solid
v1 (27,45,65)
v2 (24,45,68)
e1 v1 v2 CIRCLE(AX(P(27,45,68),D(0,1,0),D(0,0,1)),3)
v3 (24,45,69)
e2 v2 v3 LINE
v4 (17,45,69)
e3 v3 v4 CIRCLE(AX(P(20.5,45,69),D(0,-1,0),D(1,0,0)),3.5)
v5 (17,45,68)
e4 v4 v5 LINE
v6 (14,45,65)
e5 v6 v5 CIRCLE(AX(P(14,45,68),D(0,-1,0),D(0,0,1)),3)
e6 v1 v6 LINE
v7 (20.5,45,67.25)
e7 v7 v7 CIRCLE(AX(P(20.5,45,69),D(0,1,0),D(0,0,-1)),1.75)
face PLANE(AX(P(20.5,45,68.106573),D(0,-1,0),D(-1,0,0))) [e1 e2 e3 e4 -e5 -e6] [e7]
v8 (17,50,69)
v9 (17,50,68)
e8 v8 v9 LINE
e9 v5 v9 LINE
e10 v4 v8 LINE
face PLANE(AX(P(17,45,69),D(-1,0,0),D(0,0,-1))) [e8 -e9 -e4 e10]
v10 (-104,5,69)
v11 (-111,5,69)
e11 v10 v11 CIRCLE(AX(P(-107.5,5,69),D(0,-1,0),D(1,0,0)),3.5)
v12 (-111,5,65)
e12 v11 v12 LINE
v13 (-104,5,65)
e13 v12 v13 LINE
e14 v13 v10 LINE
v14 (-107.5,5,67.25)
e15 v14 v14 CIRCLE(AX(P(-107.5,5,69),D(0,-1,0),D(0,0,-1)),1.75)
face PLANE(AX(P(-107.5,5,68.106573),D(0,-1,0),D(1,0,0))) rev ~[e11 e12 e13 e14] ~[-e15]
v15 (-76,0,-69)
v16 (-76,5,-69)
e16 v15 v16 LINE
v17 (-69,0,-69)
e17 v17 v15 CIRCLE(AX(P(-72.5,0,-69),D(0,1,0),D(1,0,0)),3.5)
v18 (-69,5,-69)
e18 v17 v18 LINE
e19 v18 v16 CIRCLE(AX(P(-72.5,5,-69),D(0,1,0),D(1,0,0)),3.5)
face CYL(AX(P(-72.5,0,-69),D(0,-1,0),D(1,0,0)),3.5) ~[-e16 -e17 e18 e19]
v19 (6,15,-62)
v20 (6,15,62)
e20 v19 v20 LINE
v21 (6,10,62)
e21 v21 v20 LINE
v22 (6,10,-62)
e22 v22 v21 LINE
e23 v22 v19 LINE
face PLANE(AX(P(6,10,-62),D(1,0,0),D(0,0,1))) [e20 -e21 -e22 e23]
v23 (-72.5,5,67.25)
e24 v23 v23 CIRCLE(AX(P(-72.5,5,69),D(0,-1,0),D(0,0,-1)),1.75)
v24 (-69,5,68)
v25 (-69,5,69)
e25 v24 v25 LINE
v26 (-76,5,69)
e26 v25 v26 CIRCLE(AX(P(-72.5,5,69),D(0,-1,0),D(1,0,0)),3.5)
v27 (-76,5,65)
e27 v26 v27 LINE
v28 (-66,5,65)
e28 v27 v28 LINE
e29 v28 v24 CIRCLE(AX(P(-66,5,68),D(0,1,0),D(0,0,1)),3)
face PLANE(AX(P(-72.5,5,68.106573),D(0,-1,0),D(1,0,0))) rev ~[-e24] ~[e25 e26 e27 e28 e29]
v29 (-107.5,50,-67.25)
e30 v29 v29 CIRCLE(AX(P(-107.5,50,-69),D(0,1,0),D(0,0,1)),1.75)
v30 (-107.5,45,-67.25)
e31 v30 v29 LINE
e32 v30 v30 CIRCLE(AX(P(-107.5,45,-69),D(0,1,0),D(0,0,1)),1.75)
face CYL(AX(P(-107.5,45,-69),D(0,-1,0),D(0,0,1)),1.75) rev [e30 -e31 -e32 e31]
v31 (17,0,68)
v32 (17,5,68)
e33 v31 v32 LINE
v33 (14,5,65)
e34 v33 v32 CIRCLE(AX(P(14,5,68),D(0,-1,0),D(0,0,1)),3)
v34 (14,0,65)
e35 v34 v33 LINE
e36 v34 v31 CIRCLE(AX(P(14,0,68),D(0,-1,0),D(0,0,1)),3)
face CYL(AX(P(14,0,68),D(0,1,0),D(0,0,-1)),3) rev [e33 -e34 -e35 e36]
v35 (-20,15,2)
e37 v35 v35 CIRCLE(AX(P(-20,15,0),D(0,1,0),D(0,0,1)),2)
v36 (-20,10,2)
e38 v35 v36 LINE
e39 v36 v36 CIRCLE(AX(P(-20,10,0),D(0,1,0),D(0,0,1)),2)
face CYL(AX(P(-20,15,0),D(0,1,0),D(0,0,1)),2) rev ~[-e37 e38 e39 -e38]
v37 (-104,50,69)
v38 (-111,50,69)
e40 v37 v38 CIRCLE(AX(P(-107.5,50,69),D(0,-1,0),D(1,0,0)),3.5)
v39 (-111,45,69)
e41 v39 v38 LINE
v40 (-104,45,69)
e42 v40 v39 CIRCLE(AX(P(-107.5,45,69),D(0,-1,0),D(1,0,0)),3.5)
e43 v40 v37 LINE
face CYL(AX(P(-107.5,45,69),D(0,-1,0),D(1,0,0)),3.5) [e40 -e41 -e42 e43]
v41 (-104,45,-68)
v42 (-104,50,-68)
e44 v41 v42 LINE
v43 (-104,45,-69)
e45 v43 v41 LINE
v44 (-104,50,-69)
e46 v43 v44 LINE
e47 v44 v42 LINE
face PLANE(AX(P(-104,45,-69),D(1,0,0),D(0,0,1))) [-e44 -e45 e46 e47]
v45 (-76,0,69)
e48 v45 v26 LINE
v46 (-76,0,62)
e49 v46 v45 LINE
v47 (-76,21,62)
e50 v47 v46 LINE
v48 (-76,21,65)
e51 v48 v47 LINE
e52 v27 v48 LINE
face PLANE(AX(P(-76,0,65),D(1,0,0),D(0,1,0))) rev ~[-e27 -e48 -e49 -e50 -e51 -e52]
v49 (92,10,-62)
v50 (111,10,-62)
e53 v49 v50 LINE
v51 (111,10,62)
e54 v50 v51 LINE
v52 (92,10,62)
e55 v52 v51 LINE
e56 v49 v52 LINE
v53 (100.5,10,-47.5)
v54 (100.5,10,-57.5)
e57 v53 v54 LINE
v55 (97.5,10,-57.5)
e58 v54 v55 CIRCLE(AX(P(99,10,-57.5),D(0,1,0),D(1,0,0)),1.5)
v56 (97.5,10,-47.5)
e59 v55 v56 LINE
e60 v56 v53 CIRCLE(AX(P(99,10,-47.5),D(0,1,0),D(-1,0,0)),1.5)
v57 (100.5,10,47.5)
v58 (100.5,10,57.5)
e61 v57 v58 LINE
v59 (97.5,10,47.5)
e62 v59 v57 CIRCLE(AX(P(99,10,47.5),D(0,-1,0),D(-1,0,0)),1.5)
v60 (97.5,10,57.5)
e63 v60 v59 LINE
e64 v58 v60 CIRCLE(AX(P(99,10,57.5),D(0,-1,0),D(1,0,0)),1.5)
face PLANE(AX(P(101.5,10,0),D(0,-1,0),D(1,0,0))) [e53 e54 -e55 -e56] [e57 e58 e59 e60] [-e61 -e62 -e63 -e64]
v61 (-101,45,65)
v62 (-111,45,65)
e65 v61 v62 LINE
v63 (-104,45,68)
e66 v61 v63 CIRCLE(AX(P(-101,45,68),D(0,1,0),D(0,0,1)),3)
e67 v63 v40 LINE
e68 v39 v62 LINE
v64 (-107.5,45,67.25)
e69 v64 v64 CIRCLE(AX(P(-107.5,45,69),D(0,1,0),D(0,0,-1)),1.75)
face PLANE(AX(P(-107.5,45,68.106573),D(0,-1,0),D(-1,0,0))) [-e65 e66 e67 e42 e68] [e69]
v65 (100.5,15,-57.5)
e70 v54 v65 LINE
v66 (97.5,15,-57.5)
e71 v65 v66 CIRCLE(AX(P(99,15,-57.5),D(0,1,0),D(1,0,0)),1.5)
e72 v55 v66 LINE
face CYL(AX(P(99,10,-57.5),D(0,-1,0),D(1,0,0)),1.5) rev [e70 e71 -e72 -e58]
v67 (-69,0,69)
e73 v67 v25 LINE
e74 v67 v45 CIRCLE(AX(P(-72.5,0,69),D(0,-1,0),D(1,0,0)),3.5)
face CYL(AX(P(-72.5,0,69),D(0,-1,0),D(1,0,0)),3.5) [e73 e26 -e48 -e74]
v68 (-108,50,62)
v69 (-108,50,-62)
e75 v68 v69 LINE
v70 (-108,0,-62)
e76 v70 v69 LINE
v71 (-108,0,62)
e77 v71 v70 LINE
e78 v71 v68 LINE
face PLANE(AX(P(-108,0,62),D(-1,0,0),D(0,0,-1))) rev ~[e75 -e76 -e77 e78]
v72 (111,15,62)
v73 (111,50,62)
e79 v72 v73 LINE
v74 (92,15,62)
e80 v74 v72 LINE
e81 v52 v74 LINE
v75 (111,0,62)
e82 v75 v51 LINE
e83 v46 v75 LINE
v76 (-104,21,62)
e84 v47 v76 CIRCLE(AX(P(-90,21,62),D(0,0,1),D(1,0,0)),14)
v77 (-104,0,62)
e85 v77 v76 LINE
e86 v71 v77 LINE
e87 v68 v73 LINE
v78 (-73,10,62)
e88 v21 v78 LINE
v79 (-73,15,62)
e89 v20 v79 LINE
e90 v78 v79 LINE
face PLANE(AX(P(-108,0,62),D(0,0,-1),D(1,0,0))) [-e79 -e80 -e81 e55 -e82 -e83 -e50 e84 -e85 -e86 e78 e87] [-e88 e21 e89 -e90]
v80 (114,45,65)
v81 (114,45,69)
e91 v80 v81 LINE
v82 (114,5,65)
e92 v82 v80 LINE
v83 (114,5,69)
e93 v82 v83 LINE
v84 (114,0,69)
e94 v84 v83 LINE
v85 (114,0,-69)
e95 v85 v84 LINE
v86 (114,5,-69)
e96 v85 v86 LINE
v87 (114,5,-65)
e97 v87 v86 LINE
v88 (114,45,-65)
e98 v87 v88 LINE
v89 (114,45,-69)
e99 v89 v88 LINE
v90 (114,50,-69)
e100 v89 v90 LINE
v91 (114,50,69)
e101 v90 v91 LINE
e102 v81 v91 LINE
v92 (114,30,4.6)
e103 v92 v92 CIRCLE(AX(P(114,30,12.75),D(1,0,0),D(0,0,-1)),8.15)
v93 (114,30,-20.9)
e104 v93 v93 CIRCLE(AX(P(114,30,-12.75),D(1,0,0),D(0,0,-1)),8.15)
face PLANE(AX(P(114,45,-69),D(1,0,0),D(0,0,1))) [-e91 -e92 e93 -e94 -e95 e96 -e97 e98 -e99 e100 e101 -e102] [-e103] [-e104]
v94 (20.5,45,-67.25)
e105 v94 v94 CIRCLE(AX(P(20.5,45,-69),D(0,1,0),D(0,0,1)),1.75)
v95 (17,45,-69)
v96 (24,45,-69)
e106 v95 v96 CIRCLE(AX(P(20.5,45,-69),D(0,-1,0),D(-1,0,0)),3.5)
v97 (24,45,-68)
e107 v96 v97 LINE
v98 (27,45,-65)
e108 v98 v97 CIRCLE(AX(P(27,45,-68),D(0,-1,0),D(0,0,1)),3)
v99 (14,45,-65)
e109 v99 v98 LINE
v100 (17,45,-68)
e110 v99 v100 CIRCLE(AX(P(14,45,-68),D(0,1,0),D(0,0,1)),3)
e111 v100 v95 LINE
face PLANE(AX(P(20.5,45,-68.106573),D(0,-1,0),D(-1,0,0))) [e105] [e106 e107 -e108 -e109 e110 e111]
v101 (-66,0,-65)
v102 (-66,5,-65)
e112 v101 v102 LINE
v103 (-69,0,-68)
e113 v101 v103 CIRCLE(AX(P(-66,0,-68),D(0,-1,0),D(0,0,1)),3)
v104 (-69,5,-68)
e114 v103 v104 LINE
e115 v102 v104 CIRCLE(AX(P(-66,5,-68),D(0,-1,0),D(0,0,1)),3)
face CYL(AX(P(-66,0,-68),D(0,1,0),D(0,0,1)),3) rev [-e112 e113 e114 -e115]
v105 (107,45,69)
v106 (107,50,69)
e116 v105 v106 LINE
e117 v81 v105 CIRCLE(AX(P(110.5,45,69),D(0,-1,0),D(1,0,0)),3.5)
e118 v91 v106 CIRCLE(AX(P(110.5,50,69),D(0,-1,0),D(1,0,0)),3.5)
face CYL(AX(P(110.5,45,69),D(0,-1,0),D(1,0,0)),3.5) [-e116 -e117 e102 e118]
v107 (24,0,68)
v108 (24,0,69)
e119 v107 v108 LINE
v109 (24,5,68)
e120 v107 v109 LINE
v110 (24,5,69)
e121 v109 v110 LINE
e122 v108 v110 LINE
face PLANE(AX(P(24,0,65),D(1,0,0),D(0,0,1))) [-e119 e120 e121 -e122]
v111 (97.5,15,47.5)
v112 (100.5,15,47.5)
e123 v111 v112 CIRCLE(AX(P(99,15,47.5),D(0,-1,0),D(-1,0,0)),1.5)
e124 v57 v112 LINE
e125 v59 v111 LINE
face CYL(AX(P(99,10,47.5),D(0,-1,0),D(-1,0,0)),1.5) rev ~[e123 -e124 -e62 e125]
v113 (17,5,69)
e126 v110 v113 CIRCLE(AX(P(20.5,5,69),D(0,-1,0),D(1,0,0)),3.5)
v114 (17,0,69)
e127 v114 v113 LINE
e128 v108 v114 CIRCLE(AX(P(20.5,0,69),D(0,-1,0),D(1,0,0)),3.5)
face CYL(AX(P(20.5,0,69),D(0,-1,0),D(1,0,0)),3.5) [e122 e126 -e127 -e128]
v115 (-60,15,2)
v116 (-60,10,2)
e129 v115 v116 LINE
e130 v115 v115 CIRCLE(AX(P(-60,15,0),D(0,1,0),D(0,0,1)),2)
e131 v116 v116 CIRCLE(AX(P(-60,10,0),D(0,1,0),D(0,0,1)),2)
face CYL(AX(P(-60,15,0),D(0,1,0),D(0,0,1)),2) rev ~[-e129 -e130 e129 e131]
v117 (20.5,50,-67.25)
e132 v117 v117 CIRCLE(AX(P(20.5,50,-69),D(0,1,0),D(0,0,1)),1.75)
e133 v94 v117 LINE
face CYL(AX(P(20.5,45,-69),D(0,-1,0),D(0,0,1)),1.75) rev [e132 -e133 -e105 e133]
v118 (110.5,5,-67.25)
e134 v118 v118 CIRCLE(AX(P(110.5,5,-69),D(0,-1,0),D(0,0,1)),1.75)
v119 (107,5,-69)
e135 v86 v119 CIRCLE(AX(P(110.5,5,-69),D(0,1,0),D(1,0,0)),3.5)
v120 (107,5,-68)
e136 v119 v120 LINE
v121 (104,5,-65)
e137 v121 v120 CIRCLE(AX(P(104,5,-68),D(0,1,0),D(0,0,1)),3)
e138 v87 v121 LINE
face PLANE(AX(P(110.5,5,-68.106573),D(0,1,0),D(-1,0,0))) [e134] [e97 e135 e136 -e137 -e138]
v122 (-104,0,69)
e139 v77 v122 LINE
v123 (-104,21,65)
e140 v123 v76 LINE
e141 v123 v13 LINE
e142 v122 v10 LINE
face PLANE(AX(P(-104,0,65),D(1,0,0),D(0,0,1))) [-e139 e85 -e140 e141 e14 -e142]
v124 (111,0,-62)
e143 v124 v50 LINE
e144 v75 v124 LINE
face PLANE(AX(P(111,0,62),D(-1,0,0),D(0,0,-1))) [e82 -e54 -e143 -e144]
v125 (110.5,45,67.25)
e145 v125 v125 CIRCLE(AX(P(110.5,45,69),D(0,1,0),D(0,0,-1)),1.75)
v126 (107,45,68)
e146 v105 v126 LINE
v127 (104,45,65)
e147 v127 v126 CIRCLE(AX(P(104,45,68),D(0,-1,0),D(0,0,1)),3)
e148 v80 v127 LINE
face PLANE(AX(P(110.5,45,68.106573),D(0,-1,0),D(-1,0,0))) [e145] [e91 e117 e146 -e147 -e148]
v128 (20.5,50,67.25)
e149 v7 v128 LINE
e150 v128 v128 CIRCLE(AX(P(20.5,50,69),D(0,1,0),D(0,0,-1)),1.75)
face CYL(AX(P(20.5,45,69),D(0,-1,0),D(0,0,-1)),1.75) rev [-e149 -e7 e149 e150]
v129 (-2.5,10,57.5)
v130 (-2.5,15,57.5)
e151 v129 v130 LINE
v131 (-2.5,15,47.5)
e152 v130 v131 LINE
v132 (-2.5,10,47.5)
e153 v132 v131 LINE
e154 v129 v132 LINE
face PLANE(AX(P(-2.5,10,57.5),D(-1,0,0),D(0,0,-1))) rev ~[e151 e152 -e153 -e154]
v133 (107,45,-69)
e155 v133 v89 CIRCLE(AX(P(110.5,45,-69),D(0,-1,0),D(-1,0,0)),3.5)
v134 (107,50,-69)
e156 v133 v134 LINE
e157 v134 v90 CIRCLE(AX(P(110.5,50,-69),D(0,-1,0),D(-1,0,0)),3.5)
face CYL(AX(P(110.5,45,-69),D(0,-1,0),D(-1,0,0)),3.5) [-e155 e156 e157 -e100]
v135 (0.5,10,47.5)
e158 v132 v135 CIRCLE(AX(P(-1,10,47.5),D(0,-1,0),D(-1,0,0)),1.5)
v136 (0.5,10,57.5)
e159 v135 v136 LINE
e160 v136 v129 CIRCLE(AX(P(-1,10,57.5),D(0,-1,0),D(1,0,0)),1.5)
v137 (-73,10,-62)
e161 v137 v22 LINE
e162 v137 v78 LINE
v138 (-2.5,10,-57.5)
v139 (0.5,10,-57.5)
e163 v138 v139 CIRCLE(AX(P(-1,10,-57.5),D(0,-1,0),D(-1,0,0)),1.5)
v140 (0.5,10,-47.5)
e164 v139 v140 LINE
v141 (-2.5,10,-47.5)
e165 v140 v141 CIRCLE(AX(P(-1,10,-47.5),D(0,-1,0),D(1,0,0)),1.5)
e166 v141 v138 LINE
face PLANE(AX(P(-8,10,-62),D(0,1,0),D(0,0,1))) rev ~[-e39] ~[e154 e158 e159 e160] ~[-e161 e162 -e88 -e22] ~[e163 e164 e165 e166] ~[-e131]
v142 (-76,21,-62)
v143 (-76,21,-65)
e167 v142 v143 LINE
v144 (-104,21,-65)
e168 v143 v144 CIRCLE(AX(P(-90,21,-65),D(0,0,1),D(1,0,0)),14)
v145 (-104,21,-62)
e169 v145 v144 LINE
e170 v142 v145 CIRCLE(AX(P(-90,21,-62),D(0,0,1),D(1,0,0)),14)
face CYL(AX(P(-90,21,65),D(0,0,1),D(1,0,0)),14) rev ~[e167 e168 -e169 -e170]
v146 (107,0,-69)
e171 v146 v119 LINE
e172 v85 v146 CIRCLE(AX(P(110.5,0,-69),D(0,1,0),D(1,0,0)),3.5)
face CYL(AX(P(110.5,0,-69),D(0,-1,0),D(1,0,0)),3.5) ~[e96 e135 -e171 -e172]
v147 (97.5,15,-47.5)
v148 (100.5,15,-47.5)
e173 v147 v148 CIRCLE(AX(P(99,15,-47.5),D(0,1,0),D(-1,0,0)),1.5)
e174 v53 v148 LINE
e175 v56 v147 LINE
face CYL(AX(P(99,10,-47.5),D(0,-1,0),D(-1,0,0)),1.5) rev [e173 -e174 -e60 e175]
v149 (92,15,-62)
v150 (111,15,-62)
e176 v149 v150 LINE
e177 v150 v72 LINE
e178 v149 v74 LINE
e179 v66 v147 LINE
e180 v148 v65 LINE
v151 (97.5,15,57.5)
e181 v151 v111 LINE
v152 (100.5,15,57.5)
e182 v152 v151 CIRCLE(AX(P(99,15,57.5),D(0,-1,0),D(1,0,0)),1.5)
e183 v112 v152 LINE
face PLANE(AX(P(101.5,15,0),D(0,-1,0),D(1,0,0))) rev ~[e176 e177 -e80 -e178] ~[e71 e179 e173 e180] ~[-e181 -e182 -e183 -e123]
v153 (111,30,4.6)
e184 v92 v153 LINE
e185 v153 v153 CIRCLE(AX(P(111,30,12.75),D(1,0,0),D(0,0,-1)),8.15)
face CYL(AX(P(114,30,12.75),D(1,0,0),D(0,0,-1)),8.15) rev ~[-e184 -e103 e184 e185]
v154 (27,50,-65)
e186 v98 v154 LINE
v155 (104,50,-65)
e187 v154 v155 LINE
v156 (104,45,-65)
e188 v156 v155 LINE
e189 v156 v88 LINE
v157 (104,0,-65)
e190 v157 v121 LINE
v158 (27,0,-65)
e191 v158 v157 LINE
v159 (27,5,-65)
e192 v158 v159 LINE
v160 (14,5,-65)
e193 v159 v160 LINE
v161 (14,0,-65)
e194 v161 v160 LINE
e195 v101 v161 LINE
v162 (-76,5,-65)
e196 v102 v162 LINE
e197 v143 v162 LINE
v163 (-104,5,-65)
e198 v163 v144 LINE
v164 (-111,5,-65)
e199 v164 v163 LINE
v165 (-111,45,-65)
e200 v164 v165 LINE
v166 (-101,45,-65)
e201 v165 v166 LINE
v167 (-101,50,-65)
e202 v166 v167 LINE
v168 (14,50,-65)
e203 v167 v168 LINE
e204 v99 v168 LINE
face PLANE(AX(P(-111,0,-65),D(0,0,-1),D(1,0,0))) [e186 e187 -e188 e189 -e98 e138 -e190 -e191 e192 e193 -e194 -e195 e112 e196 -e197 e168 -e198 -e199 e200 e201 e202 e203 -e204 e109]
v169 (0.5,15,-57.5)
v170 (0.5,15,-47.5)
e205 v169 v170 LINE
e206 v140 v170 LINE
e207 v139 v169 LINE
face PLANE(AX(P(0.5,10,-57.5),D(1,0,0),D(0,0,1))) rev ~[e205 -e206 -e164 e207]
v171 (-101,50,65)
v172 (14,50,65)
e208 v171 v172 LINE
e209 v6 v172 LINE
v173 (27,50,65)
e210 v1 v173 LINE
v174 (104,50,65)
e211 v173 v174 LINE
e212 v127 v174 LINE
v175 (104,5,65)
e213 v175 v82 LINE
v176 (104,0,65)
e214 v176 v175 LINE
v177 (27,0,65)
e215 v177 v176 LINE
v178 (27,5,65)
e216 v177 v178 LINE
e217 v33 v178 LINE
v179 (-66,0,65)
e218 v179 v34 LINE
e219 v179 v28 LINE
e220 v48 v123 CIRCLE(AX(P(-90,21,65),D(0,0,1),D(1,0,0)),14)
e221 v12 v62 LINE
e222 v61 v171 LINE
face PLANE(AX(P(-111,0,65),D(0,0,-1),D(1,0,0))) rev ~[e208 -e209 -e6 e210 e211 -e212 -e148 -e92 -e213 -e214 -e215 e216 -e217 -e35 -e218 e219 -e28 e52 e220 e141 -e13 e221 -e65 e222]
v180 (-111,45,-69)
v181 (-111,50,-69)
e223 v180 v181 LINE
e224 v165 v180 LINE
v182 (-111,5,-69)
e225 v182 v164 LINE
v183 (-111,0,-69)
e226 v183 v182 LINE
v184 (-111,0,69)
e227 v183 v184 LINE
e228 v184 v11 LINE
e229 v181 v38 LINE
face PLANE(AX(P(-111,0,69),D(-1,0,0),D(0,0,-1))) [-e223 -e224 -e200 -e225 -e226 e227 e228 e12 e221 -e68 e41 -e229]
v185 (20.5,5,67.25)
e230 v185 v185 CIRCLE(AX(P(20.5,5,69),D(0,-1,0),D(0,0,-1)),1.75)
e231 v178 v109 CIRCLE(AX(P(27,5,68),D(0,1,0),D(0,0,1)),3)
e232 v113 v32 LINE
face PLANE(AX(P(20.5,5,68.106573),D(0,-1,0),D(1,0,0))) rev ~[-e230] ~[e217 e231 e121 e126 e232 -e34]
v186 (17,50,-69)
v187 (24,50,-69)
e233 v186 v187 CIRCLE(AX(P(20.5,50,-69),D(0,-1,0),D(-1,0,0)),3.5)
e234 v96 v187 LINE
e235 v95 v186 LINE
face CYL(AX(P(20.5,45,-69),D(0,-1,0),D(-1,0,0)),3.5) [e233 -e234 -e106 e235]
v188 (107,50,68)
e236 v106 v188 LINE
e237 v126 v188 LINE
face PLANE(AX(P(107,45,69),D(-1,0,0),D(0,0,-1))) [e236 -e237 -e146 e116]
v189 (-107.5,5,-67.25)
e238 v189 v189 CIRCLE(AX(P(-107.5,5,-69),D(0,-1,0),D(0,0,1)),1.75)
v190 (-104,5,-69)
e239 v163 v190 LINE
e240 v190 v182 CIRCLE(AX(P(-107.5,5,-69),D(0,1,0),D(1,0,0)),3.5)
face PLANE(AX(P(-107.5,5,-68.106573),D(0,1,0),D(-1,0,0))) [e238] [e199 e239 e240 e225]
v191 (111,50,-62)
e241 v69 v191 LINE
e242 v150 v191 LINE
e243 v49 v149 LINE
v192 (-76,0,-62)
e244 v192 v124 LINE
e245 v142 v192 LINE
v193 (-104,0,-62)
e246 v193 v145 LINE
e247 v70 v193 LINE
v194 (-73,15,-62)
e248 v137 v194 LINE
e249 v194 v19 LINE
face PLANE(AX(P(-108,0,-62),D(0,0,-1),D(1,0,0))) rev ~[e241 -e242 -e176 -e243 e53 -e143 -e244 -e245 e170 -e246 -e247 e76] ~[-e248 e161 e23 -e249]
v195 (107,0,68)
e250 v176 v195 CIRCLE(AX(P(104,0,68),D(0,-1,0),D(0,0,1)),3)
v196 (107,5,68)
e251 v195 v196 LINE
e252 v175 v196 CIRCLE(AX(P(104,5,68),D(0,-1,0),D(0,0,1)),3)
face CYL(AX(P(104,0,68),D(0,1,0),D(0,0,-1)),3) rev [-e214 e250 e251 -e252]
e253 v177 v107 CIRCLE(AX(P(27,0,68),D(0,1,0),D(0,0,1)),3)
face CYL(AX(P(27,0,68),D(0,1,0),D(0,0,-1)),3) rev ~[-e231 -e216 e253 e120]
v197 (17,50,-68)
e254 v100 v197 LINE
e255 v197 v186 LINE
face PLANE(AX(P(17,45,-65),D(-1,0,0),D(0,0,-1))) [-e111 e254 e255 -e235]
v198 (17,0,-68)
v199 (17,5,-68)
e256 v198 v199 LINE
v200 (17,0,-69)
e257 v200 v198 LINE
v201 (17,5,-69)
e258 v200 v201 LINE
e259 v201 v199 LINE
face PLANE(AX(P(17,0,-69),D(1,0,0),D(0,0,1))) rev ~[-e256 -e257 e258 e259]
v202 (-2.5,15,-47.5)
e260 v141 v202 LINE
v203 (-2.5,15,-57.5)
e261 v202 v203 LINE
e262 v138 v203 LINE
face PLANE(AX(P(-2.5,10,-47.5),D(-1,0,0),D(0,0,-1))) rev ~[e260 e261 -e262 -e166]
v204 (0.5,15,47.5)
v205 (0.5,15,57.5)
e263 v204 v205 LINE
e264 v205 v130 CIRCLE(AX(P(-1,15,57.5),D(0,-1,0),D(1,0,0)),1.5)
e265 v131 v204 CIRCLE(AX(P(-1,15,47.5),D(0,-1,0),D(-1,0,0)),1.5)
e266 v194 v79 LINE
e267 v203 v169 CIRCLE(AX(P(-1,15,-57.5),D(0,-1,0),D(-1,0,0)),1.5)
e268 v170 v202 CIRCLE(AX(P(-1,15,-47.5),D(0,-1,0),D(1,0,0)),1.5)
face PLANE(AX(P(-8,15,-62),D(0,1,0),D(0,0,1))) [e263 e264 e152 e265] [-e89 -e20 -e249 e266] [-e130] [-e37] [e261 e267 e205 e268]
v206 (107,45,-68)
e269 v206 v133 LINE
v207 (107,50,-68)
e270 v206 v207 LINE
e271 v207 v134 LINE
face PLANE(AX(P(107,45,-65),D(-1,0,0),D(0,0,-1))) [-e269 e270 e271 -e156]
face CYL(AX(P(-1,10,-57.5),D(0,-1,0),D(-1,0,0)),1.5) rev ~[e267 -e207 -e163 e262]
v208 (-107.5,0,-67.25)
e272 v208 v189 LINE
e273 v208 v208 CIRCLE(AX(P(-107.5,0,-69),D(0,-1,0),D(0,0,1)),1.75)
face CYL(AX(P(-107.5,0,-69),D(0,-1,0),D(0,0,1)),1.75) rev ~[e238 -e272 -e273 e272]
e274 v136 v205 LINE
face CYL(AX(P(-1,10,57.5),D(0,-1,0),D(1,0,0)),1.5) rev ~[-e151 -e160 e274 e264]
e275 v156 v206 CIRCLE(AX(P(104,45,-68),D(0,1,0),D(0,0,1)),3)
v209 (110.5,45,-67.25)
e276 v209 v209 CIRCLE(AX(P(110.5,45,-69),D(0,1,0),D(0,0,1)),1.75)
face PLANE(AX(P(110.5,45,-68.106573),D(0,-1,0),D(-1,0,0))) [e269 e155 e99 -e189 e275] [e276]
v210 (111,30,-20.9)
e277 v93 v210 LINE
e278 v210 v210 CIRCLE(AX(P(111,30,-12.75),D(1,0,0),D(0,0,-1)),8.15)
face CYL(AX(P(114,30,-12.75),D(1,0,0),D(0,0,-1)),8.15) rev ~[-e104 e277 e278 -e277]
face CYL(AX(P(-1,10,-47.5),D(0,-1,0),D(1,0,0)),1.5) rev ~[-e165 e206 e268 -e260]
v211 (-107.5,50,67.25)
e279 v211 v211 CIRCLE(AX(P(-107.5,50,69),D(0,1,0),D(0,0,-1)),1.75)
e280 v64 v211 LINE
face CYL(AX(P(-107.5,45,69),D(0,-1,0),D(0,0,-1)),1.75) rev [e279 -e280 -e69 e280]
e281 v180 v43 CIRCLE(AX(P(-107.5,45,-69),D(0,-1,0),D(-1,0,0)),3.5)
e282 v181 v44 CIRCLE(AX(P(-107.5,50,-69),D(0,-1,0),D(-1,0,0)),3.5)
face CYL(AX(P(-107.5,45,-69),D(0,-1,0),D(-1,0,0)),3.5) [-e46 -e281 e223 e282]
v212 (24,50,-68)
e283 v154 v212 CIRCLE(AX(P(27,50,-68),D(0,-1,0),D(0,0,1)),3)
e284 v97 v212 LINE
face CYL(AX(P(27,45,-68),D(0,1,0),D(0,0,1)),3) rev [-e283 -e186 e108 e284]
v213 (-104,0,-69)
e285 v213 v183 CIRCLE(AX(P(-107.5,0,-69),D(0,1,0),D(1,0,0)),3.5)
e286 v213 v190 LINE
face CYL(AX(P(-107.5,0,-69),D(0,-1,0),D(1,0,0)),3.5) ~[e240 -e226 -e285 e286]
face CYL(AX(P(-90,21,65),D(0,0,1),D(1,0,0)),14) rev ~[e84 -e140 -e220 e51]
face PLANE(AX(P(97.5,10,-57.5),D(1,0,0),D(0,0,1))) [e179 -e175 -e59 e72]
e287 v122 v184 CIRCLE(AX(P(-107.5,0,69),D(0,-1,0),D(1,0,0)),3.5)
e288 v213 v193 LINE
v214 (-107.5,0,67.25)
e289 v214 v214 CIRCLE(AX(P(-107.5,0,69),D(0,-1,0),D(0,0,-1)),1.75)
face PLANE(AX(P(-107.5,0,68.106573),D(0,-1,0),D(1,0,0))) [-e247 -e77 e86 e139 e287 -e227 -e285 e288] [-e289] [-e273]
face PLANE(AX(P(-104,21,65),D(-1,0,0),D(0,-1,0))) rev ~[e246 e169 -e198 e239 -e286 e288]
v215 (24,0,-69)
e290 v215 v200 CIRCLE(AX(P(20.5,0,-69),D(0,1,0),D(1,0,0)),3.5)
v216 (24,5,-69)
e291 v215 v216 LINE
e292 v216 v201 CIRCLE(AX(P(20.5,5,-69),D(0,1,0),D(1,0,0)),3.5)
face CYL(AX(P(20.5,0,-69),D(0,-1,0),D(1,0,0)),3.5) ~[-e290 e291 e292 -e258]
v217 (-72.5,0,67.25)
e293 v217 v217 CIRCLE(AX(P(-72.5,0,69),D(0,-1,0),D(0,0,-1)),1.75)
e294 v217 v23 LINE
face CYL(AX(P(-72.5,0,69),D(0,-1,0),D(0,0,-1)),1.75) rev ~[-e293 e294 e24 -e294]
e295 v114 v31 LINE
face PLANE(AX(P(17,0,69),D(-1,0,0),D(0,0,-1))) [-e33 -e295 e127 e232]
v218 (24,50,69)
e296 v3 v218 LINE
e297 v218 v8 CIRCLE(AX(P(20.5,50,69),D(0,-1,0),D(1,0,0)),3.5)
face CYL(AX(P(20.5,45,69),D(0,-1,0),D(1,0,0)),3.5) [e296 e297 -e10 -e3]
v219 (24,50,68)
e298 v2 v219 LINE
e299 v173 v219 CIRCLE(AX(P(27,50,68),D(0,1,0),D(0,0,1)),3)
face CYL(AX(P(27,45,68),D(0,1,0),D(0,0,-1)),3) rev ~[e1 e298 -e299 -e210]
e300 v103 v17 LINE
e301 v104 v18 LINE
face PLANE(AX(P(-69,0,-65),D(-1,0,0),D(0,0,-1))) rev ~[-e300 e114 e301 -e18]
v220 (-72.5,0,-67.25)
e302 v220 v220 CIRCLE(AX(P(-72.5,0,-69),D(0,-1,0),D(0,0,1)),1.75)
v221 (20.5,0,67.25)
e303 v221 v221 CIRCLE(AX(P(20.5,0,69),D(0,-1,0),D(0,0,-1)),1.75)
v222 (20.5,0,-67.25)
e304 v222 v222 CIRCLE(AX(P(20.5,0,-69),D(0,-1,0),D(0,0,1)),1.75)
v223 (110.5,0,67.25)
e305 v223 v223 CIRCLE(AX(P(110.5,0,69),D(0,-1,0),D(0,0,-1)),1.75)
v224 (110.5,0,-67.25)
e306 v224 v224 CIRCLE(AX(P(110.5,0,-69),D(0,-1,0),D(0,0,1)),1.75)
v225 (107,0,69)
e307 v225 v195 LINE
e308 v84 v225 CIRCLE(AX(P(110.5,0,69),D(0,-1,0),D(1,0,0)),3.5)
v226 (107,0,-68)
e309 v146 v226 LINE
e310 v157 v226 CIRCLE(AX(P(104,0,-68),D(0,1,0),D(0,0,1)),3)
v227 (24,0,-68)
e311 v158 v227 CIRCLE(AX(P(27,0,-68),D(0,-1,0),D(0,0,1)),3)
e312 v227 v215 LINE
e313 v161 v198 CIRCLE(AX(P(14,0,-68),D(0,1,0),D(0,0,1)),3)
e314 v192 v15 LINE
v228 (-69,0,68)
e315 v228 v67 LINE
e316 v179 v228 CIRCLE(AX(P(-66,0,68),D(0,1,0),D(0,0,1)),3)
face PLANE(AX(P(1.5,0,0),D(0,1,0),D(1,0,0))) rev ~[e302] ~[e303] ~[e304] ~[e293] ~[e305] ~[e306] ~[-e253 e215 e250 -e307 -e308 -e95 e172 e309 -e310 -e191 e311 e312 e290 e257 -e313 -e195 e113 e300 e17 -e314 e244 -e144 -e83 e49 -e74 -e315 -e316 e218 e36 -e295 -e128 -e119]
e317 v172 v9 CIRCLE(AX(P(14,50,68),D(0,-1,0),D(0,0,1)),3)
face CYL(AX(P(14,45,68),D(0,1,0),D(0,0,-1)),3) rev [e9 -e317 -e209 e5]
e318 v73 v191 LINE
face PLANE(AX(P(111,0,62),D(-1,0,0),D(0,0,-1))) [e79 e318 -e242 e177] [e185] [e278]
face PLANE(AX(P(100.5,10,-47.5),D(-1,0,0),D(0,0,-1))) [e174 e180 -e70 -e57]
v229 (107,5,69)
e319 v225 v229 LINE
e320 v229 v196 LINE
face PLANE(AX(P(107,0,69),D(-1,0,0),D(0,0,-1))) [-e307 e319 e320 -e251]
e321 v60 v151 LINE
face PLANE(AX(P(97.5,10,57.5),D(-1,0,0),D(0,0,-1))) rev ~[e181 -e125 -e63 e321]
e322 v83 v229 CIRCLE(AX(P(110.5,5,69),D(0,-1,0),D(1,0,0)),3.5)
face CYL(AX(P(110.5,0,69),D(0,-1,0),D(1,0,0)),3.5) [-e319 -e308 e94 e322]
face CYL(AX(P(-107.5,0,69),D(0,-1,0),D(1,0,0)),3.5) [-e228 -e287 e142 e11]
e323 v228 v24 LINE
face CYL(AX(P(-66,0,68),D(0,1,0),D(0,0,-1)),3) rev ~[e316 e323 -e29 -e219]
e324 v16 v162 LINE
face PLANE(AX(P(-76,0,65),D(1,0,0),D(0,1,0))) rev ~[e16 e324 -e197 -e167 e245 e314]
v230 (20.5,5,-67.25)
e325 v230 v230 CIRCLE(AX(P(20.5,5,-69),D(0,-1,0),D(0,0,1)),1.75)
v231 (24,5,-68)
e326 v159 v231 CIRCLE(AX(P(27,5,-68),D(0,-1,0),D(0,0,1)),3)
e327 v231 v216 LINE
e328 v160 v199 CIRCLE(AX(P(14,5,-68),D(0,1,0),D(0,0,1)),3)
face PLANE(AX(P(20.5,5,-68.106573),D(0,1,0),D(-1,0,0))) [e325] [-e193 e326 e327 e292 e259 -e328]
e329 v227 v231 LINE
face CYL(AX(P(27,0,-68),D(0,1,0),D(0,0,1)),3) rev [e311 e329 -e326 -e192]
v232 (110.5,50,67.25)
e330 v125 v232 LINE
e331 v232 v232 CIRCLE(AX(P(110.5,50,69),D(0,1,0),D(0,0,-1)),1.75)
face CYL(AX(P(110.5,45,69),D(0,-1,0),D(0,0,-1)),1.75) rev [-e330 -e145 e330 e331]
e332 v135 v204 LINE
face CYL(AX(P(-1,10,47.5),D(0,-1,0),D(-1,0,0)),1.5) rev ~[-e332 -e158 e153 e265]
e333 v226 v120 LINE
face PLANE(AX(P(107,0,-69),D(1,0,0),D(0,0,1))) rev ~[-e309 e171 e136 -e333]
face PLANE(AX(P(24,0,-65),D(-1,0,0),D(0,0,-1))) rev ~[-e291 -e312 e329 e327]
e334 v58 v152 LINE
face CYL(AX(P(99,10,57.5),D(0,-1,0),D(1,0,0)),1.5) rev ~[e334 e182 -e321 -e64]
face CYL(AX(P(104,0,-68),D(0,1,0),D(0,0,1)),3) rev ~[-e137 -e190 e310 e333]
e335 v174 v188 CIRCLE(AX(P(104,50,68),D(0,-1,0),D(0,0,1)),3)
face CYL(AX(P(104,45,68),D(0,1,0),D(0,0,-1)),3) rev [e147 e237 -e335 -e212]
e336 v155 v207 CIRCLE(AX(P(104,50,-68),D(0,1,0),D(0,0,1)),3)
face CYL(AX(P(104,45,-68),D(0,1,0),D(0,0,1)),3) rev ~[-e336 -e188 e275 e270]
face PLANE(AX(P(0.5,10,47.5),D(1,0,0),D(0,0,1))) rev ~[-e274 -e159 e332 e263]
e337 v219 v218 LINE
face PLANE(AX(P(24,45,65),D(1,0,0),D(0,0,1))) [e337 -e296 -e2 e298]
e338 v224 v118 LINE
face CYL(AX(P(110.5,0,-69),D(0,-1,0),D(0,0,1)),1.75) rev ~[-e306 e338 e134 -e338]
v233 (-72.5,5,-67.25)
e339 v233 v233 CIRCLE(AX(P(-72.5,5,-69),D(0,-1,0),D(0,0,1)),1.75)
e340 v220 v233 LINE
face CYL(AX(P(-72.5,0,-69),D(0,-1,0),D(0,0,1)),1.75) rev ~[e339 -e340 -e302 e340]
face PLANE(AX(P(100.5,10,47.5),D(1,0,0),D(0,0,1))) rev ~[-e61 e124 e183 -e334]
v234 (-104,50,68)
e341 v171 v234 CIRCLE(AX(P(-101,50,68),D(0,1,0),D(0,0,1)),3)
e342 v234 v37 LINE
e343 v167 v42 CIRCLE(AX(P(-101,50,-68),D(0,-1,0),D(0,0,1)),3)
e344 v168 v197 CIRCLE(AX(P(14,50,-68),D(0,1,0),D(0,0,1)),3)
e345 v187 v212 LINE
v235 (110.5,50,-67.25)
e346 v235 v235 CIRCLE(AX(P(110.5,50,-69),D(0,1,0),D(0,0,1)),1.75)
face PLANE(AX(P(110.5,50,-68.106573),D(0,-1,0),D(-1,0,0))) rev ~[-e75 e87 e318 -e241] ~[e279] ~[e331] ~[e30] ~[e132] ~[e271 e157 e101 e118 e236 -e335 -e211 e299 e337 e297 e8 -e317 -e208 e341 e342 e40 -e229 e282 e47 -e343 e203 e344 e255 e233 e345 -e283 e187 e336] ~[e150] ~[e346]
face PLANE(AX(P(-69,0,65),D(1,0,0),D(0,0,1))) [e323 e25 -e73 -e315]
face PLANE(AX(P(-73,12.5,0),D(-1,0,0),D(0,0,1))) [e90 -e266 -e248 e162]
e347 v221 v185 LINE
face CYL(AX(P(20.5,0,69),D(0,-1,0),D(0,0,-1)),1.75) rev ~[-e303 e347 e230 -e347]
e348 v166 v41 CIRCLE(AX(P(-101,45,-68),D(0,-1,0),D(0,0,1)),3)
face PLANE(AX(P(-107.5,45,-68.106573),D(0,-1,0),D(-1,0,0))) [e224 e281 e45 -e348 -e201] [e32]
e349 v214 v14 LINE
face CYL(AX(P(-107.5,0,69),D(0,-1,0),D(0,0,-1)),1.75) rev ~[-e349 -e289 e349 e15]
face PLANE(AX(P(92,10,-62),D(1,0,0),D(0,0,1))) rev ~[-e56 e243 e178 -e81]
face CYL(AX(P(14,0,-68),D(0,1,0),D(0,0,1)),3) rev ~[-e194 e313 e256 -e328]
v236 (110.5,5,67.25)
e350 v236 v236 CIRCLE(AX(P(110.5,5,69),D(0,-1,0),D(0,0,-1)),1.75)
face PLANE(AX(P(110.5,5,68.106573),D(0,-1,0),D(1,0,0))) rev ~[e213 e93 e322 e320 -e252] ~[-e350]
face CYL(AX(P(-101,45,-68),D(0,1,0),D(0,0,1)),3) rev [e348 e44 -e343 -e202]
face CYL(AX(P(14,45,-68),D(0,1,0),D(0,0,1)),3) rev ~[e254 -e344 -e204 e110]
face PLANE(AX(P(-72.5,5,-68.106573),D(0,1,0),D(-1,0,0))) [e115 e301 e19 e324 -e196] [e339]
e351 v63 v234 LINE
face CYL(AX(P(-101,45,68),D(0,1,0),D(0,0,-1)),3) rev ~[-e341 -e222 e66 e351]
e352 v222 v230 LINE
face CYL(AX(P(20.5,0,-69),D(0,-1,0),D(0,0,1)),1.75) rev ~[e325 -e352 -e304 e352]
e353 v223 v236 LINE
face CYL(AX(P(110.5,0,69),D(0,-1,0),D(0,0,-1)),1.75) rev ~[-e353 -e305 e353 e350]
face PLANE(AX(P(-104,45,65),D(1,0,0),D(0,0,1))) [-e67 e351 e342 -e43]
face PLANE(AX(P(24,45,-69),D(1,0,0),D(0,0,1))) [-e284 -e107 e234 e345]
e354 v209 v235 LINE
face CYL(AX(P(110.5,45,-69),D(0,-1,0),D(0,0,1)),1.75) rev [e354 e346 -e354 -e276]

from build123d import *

# Parameters (mm, degrees)
SKETCH1_W           = 225
SKETCH1_H           = 130
SKETCH1_W_2         = 219
SKETCH1_H_2         = 124
BOSS_EXTRUDE1_DEPTH = 50
CUT_EXTRUDE1_DEPTH  = 180.988888546
SKETCH4_R           = 1.75
BOSS_EXTRUDE2_DEPTH = 5
SKETCH6_R           = 8.15
CUT_EXTRUDE2_DEPTH  = 10
BOSS_EXTRUDE5_START = -5
SKETCH8_R           = 1.75
BOSS_EXTRUDE5_DEPTH = 5
BOSS_EXTRUDE6_START = -10
SKETCH9_W           = 19
SKETCH9_H           = 124
SKETCH9_W_2         = 14
BOSS_EXTRUDE6_DEPTH = 5
FILLET1_R           = 3
SKETCH10_W          = 124
SKETCH10_H          = 5
BOSS_EXTRUDE7_DEPTH = 65
SKETCH11_R          = 2
CUT_EXTRUDE3_DEPTH  = 140.560918598


with BuildPart() as part:
    # Sketch1 → Boss-Extrude1 (new body)
    with BuildSketch(Plane(origin=(0, 0, 0), x_dir=(1, 0, 0), z_dir=(0, 1, 0))):
        with Locations((1.5, 0)):
            Rectangle(SKETCH1_W, SKETCH1_H)
        with Locations((1.5, 0)):
            Rectangle(SKETCH1_W_2, SKETCH1_H_2, mode=Mode.SUBTRACT)
    extrude(amount=BOSS_EXTRUDE1_DEPTH)

    # Sketch3 → Cut-Extrude1 (cut, through all)
    with BuildSketch(Plane.XY.offset(65)):
        with BuildLine():
            Line((-104, 0), (-76, 0))
            Line((-76, 0), (-76, 21))
            ThreePointArc((-76, 21), (-90, 35), (-104, 21))
            Line((-104, 21), (-104, 0))
        make_face()
    extrude(amount=-CUT_EXTRUDE1_DEPTH, mode=Mode.SUBTRACT)

    # Sketch4 → Boss-Extrude2 (add)
    # profile 1 of 8: a face of its own
    with BuildSketch(Plane.XZ):
        with BuildLine():
            Line((-111, 69), (-111, 65))
            Line((-111, 65), (-104, 65))
            Line((-104, 65), (-104, 69))
            ThreePointArc((-104, 69), (-107.5, 72.5), (-111, 69))
        make_face()
        with Locations(Location((-107.5, 69, 0), (0, 0, 270))):
            Circle(SKETCH4_R, mode=Mode.SUBTRACT)
    # profile 2 of 8: a face of its own
    with BuildSketch(Plane.XZ):
        with BuildLine():
            Line((-76, 69), (-76, 65))
            Line((-76, 65), (-69, 65))
            Line((-69, 65), (-69, 69))
            ThreePointArc((-69, 69), (-72.5, 72.5), (-76, 69))
        make_face()
        with Locations(Location((-72.5, 69, 0), (0, 0, 270))):
            Circle(SKETCH4_R, mode=Mode.SUBTRACT)
    # profile 3 of 8: a face of its own
    with BuildSketch(Plane.XZ):
        with BuildLine():
            Line((-76, -65), (-69, -65))
            Line((-69, -65), (-69, -69))
            ThreePointArc((-69, -69), (-72.5, -72.5), (-76, -69))
            Line((-76, -69), (-76, -65))
        make_face()
        with Locations(Location((-72.5, -69, 0), (0, 0, 90))):
            Circle(SKETCH4_R, mode=Mode.SUBTRACT)
    # profile 4 of 8: a face of its own
    with BuildSketch(Plane.XZ):
        with BuildLine():
            Line((-111, -65), (-104, -65))
            Line((-104, -65), (-104, -69))
            ThreePointArc((-104, -69), (-107.5, -72.5), (-111, -69))
            Line((-111, -69), (-111, -65))
        make_face()
        with Locations(Location((-107.5, -69, 0), (0, 0, 90))):
            Circle(SKETCH4_R, mode=Mode.SUBTRACT)
    # profile 5 of 8: a face of its own
    with BuildSketch(Plane.XZ):
        with BuildLine():
            Line((17, -65), (24, -65))
            Line((24, -65), (24, -69))
            ThreePointArc((24, -69), (20.5, -72.5), (17, -69))
            Line((17, -69), (17, -65))
        make_face()
        with Locations(Location((20.5, -69, 0), (0, 0, 90))):
            Circle(SKETCH4_R, mode=Mode.SUBTRACT)
    # profile 6 of 8: a face of its own
    with BuildSketch(Plane.XZ):
        with BuildLine():
            Line((107, -65), (114, -65))
            Line((114, -65), (114, -69))
            ThreePointArc((114, -69), (110.5, -72.5), (107, -69))
            Line((107, -69), (107, -65))
        make_face()
        with Locations(Location((110.5, -69, 0), (0, 0, 90))):
            Circle(SKETCH4_R, mode=Mode.SUBTRACT)
    # profile 7 of 8: a face of its own
    with BuildSketch(Plane.XZ):
        with BuildLine():
            Line((17, 69), (17, 65))
            Line((17, 65), (24, 65))
            Line((24, 65), (24, 69))
            ThreePointArc((24, 69), (20.5, 72.5), (17, 69))
        make_face()
        with Locations(Location((20.5, 69, 0), (0, 0, 270))):
            Circle(SKETCH4_R, mode=Mode.SUBTRACT)
    # profile 8 of 8: a face of its own
    with BuildSketch(Plane.XZ):
        with BuildLine():
            Line((107, 69), (107, 65))
            Line((107, 65), (114, 65))
            Line((114, 65), (114, 69))
            ThreePointArc((114, 69), (110.5, 72.5), (107, 69))
        make_face()
        with Locations(Location((110.5, 69, 0), (0, 0, 270))):
            Circle(SKETCH4_R, mode=Mode.SUBTRACT)
    extrude(amount=-BOSS_EXTRUDE2_DEPTH)

    # Sketch6 → Cut-Extrude2 (cut)
    with BuildSketch(Plane(origin=(114, 0, 0), x_dir=(0, 0, -1), z_dir=(1, 0, 0))):
        with Locations((-12.75, 30)):
            Circle(SKETCH6_R)
        with Locations((12.75, 30)):
            Circle(SKETCH6_R)
    extrude(amount=-CUT_EXTRUDE2_DEPTH, mode=Mode.SUBTRACT)

    # Sketch8 → Boss-Extrude5 (add)
    # profile 1 of 6: a face of its own
    with BuildSketch(Plane(origin=(0, 50, 0), x_dir=(1, 0, 0), z_dir=(0, 1, 0)).offset(BOSS_EXTRUDE5_START)):
        with BuildLine():
            Line((114, 65), (107, 65))
            Line((107, 65), (107, 69))
            ThreePointArc((107, 69), (110.5, 72.5), (114, 69))
            Line((114, 69), (114, 65))
        make_face()
        with Locations(Location((110.5, 69, 0), (0, 0, 270))):
            Circle(SKETCH8_R, mode=Mode.SUBTRACT)
    # profile 2 of 6: a face of its own
    with BuildSketch(Plane(origin=(0, 50, 0), x_dir=(1, 0, 0), z_dir=(0, 1, 0)).offset(BOSS_EXTRUDE5_START)):
        with BuildLine():
            Line((114, -65), (114, -69))
            ThreePointArc((114, -69), (110.5, -72.5), (107, -69))
            Line((107, -69), (107, -65))
            Line((107, -65), (114, -65))
        make_face()
        with Locations(Location((110.5, -69, 0), (0, 0, 90))):
            Circle(SKETCH8_R, mode=Mode.SUBTRACT)
    # profile 3 of 6: a face of its own
    with BuildSketch(Plane(origin=(0, 50, 0), x_dir=(1, 0, 0), z_dir=(0, 1, 0)).offset(BOSS_EXTRUDE5_START)):
        with BuildLine():
            Line((-104, 65), (-111, 65))
            Line((-111, 65), (-111, 69))
            ThreePointArc((-111, 69), (-107.5, 72.5), (-104, 69))
            Line((-104, 69), (-104, 65))
        make_face()
        with Locations(Location((-107.5, 69, 0), (0, 0, 270))):
            Circle(SKETCH8_R, mode=Mode.SUBTRACT)
    # profile 4 of 6: a face of its own
    with BuildSketch(Plane(origin=(0, 50, 0), x_dir=(1, 0, 0), z_dir=(0, 1, 0)).offset(BOSS_EXTRUDE5_START)):
        with BuildLine():
            Line((24, 65), (17, 65))
            Line((17, 65), (17, 69))
            ThreePointArc((17, 69), (20.5, 72.5), (24, 69))
            Line((24, 69), (24, 65))
        make_face()
        with Locations(Location((20.5, 69, 0), (0, 0, 270))):
            Circle(SKETCH8_R, mode=Mode.SUBTRACT)
    # profile 5 of 6: a face of its own
    with BuildSketch(Plane(origin=(0, 50, 0), x_dir=(1, 0, 0), z_dir=(0, 1, 0)).offset(BOSS_EXTRUDE5_START)):
        with BuildLine():
            Line((24, -65), (24, -69))
            ThreePointArc((24, -69), (20.5, -72.5), (17, -69))
            Line((17, -69), (17, -65))
            Line((17, -65), (24, -65))
        make_face()
        with Locations(Location((20.5, -69, 0), (0, 0, 90))):
            Circle(SKETCH8_R, mode=Mode.SUBTRACT)
    # profile 6 of 6: a face of its own
    with BuildSketch(Plane(origin=(0, 50, 0), x_dir=(1, 0, 0), z_dir=(0, 1, 0)).offset(BOSS_EXTRUDE5_START)):
        with BuildLine():
            Line((-111, -65), (-104, -65))
            Line((-104, -65), (-104, -69))
            ThreePointArc((-104, -69), (-107.5, -72.5), (-111, -69))
            Line((-111, -69), (-111, -65))
        make_face()
        with Locations(Location((-107.5, -69, 0), (0, 0, 90))):
            Circle(SKETCH8_R, mode=Mode.SUBTRACT)
    extrude(amount=BOSS_EXTRUDE5_DEPTH)

    # Sketch9 → Boss-Extrude6 (add)
    # profile 1 of 2: a face of its own
    with BuildSketch(Plane.XZ.offset(BOSS_EXTRUDE6_START)):
        with Locations((101.5, 0)):
            Rectangle(SKETCH9_W, SKETCH9_H)
        with BuildLine():
            Line((97.5, 57.5), (97.5, 47.5))
            ThreePointArc((97.5, 47.5), (99, 46), (100.5, 47.5))
            Line((100.5, 47.5), (100.5, 57.5))
            ThreePointArc((100.5, 57.5), (99, 59), (97.5, 57.5))
        make_face(mode=Mode.SUBTRACT)
        with BuildLine():
            Line((100.5, -47.5), (100.5, -57.5))
            ThreePointArc((100.5, -57.5), (99, -59), (97.5, -57.5))
            Line((97.5, -57.5), (97.5, -47.5))
            ThreePointArc((97.5, -47.5), (99, -46), (100.5, -47.5))
        make_face(mode=Mode.SUBTRACT)
    # profile 2 of 2: a face of its own
    with BuildSketch(Plane.XZ.offset(BOSS_EXTRUDE6_START)):
        with Locations((-1, 0)):
            Rectangle(SKETCH9_W_2, SKETCH9_H)
        with BuildLine():
            Line((-2.5, 57.5), (-2.5, 47.5))
            ThreePointArc((-2.5, 47.5), (-1, 46), (0.5, 47.5))
            Line((0.5, 47.5), (0.5, 57.5))
            ThreePointArc((0.5, 57.5), (-1, 59), (-2.5, 57.5))
        make_face(mode=Mode.SUBTRACT)
        with BuildLine():
            Line((-2.5, -47.5), (-2.5, -57.5))
            ThreePointArc((-2.5, -57.5), (-1, -59), (0.5, -57.5))
            Line((0.5, -57.5), (0.5, -47.5))
            ThreePointArc((0.5, -47.5), (-1, -46), (-2.5, -47.5))
        make_face(mode=Mode.SUBTRACT)
    extrude(amount=-BOSS_EXTRUDE6_DEPTH)

    # Fillet1
    fillet1_edges = [part.edges().sort_by_distance(p)[0] for p in [
        (17, 2.5, -65),
        (24, 2.5, -65),
        (107, 2.5, -65),
        (24, 2.5, 65),
        (17, 2.5, 65),
        (107, 2.5, 65),
        (107, 47.5, -65),
        (107, 47.5, 65),
        (-104, 47.5, -65),
        (24, 47.5, -65),
        (17, 47.5, -65),
        (17, 47.5, 65),
        (24, 47.5, 65),
        (-104, 47.5, 65),
        (-69, 2.5, 65),
        (-69, 2.5, -65),
    ]]
    fillet(fillet1_edges, radius=FILLET1_R)

    # Sketch10 → Boss-Extrude7 (add)
    with BuildSketch(Plane.ZY.offset(8)):
        with Locations((0, 12.5)):
            Rectangle(SKETCH10_W, SKETCH10_H)
    extrude(amount=BOSS_EXTRUDE7_DEPTH)

    # Sketch11 → Cut-Extrude3 (cut, through all)
    with BuildSketch(Plane(origin=(0, 15, 0), x_dir=(1, 0, 0), z_dir=(0, 1, 0))):
        with Locations(Location((-60, 0, 0), (0, 0, 270))):
            Circle(SKETCH11_R)
        with Locations(Location((-20, 0, 0), (0, 0, 270))):
            Circle(SKETCH11_R)
    extrude(amount=-CUT_EXTRUDE3_DEPTH, mode=Mode.SUBTRACT)


solid = part.part
